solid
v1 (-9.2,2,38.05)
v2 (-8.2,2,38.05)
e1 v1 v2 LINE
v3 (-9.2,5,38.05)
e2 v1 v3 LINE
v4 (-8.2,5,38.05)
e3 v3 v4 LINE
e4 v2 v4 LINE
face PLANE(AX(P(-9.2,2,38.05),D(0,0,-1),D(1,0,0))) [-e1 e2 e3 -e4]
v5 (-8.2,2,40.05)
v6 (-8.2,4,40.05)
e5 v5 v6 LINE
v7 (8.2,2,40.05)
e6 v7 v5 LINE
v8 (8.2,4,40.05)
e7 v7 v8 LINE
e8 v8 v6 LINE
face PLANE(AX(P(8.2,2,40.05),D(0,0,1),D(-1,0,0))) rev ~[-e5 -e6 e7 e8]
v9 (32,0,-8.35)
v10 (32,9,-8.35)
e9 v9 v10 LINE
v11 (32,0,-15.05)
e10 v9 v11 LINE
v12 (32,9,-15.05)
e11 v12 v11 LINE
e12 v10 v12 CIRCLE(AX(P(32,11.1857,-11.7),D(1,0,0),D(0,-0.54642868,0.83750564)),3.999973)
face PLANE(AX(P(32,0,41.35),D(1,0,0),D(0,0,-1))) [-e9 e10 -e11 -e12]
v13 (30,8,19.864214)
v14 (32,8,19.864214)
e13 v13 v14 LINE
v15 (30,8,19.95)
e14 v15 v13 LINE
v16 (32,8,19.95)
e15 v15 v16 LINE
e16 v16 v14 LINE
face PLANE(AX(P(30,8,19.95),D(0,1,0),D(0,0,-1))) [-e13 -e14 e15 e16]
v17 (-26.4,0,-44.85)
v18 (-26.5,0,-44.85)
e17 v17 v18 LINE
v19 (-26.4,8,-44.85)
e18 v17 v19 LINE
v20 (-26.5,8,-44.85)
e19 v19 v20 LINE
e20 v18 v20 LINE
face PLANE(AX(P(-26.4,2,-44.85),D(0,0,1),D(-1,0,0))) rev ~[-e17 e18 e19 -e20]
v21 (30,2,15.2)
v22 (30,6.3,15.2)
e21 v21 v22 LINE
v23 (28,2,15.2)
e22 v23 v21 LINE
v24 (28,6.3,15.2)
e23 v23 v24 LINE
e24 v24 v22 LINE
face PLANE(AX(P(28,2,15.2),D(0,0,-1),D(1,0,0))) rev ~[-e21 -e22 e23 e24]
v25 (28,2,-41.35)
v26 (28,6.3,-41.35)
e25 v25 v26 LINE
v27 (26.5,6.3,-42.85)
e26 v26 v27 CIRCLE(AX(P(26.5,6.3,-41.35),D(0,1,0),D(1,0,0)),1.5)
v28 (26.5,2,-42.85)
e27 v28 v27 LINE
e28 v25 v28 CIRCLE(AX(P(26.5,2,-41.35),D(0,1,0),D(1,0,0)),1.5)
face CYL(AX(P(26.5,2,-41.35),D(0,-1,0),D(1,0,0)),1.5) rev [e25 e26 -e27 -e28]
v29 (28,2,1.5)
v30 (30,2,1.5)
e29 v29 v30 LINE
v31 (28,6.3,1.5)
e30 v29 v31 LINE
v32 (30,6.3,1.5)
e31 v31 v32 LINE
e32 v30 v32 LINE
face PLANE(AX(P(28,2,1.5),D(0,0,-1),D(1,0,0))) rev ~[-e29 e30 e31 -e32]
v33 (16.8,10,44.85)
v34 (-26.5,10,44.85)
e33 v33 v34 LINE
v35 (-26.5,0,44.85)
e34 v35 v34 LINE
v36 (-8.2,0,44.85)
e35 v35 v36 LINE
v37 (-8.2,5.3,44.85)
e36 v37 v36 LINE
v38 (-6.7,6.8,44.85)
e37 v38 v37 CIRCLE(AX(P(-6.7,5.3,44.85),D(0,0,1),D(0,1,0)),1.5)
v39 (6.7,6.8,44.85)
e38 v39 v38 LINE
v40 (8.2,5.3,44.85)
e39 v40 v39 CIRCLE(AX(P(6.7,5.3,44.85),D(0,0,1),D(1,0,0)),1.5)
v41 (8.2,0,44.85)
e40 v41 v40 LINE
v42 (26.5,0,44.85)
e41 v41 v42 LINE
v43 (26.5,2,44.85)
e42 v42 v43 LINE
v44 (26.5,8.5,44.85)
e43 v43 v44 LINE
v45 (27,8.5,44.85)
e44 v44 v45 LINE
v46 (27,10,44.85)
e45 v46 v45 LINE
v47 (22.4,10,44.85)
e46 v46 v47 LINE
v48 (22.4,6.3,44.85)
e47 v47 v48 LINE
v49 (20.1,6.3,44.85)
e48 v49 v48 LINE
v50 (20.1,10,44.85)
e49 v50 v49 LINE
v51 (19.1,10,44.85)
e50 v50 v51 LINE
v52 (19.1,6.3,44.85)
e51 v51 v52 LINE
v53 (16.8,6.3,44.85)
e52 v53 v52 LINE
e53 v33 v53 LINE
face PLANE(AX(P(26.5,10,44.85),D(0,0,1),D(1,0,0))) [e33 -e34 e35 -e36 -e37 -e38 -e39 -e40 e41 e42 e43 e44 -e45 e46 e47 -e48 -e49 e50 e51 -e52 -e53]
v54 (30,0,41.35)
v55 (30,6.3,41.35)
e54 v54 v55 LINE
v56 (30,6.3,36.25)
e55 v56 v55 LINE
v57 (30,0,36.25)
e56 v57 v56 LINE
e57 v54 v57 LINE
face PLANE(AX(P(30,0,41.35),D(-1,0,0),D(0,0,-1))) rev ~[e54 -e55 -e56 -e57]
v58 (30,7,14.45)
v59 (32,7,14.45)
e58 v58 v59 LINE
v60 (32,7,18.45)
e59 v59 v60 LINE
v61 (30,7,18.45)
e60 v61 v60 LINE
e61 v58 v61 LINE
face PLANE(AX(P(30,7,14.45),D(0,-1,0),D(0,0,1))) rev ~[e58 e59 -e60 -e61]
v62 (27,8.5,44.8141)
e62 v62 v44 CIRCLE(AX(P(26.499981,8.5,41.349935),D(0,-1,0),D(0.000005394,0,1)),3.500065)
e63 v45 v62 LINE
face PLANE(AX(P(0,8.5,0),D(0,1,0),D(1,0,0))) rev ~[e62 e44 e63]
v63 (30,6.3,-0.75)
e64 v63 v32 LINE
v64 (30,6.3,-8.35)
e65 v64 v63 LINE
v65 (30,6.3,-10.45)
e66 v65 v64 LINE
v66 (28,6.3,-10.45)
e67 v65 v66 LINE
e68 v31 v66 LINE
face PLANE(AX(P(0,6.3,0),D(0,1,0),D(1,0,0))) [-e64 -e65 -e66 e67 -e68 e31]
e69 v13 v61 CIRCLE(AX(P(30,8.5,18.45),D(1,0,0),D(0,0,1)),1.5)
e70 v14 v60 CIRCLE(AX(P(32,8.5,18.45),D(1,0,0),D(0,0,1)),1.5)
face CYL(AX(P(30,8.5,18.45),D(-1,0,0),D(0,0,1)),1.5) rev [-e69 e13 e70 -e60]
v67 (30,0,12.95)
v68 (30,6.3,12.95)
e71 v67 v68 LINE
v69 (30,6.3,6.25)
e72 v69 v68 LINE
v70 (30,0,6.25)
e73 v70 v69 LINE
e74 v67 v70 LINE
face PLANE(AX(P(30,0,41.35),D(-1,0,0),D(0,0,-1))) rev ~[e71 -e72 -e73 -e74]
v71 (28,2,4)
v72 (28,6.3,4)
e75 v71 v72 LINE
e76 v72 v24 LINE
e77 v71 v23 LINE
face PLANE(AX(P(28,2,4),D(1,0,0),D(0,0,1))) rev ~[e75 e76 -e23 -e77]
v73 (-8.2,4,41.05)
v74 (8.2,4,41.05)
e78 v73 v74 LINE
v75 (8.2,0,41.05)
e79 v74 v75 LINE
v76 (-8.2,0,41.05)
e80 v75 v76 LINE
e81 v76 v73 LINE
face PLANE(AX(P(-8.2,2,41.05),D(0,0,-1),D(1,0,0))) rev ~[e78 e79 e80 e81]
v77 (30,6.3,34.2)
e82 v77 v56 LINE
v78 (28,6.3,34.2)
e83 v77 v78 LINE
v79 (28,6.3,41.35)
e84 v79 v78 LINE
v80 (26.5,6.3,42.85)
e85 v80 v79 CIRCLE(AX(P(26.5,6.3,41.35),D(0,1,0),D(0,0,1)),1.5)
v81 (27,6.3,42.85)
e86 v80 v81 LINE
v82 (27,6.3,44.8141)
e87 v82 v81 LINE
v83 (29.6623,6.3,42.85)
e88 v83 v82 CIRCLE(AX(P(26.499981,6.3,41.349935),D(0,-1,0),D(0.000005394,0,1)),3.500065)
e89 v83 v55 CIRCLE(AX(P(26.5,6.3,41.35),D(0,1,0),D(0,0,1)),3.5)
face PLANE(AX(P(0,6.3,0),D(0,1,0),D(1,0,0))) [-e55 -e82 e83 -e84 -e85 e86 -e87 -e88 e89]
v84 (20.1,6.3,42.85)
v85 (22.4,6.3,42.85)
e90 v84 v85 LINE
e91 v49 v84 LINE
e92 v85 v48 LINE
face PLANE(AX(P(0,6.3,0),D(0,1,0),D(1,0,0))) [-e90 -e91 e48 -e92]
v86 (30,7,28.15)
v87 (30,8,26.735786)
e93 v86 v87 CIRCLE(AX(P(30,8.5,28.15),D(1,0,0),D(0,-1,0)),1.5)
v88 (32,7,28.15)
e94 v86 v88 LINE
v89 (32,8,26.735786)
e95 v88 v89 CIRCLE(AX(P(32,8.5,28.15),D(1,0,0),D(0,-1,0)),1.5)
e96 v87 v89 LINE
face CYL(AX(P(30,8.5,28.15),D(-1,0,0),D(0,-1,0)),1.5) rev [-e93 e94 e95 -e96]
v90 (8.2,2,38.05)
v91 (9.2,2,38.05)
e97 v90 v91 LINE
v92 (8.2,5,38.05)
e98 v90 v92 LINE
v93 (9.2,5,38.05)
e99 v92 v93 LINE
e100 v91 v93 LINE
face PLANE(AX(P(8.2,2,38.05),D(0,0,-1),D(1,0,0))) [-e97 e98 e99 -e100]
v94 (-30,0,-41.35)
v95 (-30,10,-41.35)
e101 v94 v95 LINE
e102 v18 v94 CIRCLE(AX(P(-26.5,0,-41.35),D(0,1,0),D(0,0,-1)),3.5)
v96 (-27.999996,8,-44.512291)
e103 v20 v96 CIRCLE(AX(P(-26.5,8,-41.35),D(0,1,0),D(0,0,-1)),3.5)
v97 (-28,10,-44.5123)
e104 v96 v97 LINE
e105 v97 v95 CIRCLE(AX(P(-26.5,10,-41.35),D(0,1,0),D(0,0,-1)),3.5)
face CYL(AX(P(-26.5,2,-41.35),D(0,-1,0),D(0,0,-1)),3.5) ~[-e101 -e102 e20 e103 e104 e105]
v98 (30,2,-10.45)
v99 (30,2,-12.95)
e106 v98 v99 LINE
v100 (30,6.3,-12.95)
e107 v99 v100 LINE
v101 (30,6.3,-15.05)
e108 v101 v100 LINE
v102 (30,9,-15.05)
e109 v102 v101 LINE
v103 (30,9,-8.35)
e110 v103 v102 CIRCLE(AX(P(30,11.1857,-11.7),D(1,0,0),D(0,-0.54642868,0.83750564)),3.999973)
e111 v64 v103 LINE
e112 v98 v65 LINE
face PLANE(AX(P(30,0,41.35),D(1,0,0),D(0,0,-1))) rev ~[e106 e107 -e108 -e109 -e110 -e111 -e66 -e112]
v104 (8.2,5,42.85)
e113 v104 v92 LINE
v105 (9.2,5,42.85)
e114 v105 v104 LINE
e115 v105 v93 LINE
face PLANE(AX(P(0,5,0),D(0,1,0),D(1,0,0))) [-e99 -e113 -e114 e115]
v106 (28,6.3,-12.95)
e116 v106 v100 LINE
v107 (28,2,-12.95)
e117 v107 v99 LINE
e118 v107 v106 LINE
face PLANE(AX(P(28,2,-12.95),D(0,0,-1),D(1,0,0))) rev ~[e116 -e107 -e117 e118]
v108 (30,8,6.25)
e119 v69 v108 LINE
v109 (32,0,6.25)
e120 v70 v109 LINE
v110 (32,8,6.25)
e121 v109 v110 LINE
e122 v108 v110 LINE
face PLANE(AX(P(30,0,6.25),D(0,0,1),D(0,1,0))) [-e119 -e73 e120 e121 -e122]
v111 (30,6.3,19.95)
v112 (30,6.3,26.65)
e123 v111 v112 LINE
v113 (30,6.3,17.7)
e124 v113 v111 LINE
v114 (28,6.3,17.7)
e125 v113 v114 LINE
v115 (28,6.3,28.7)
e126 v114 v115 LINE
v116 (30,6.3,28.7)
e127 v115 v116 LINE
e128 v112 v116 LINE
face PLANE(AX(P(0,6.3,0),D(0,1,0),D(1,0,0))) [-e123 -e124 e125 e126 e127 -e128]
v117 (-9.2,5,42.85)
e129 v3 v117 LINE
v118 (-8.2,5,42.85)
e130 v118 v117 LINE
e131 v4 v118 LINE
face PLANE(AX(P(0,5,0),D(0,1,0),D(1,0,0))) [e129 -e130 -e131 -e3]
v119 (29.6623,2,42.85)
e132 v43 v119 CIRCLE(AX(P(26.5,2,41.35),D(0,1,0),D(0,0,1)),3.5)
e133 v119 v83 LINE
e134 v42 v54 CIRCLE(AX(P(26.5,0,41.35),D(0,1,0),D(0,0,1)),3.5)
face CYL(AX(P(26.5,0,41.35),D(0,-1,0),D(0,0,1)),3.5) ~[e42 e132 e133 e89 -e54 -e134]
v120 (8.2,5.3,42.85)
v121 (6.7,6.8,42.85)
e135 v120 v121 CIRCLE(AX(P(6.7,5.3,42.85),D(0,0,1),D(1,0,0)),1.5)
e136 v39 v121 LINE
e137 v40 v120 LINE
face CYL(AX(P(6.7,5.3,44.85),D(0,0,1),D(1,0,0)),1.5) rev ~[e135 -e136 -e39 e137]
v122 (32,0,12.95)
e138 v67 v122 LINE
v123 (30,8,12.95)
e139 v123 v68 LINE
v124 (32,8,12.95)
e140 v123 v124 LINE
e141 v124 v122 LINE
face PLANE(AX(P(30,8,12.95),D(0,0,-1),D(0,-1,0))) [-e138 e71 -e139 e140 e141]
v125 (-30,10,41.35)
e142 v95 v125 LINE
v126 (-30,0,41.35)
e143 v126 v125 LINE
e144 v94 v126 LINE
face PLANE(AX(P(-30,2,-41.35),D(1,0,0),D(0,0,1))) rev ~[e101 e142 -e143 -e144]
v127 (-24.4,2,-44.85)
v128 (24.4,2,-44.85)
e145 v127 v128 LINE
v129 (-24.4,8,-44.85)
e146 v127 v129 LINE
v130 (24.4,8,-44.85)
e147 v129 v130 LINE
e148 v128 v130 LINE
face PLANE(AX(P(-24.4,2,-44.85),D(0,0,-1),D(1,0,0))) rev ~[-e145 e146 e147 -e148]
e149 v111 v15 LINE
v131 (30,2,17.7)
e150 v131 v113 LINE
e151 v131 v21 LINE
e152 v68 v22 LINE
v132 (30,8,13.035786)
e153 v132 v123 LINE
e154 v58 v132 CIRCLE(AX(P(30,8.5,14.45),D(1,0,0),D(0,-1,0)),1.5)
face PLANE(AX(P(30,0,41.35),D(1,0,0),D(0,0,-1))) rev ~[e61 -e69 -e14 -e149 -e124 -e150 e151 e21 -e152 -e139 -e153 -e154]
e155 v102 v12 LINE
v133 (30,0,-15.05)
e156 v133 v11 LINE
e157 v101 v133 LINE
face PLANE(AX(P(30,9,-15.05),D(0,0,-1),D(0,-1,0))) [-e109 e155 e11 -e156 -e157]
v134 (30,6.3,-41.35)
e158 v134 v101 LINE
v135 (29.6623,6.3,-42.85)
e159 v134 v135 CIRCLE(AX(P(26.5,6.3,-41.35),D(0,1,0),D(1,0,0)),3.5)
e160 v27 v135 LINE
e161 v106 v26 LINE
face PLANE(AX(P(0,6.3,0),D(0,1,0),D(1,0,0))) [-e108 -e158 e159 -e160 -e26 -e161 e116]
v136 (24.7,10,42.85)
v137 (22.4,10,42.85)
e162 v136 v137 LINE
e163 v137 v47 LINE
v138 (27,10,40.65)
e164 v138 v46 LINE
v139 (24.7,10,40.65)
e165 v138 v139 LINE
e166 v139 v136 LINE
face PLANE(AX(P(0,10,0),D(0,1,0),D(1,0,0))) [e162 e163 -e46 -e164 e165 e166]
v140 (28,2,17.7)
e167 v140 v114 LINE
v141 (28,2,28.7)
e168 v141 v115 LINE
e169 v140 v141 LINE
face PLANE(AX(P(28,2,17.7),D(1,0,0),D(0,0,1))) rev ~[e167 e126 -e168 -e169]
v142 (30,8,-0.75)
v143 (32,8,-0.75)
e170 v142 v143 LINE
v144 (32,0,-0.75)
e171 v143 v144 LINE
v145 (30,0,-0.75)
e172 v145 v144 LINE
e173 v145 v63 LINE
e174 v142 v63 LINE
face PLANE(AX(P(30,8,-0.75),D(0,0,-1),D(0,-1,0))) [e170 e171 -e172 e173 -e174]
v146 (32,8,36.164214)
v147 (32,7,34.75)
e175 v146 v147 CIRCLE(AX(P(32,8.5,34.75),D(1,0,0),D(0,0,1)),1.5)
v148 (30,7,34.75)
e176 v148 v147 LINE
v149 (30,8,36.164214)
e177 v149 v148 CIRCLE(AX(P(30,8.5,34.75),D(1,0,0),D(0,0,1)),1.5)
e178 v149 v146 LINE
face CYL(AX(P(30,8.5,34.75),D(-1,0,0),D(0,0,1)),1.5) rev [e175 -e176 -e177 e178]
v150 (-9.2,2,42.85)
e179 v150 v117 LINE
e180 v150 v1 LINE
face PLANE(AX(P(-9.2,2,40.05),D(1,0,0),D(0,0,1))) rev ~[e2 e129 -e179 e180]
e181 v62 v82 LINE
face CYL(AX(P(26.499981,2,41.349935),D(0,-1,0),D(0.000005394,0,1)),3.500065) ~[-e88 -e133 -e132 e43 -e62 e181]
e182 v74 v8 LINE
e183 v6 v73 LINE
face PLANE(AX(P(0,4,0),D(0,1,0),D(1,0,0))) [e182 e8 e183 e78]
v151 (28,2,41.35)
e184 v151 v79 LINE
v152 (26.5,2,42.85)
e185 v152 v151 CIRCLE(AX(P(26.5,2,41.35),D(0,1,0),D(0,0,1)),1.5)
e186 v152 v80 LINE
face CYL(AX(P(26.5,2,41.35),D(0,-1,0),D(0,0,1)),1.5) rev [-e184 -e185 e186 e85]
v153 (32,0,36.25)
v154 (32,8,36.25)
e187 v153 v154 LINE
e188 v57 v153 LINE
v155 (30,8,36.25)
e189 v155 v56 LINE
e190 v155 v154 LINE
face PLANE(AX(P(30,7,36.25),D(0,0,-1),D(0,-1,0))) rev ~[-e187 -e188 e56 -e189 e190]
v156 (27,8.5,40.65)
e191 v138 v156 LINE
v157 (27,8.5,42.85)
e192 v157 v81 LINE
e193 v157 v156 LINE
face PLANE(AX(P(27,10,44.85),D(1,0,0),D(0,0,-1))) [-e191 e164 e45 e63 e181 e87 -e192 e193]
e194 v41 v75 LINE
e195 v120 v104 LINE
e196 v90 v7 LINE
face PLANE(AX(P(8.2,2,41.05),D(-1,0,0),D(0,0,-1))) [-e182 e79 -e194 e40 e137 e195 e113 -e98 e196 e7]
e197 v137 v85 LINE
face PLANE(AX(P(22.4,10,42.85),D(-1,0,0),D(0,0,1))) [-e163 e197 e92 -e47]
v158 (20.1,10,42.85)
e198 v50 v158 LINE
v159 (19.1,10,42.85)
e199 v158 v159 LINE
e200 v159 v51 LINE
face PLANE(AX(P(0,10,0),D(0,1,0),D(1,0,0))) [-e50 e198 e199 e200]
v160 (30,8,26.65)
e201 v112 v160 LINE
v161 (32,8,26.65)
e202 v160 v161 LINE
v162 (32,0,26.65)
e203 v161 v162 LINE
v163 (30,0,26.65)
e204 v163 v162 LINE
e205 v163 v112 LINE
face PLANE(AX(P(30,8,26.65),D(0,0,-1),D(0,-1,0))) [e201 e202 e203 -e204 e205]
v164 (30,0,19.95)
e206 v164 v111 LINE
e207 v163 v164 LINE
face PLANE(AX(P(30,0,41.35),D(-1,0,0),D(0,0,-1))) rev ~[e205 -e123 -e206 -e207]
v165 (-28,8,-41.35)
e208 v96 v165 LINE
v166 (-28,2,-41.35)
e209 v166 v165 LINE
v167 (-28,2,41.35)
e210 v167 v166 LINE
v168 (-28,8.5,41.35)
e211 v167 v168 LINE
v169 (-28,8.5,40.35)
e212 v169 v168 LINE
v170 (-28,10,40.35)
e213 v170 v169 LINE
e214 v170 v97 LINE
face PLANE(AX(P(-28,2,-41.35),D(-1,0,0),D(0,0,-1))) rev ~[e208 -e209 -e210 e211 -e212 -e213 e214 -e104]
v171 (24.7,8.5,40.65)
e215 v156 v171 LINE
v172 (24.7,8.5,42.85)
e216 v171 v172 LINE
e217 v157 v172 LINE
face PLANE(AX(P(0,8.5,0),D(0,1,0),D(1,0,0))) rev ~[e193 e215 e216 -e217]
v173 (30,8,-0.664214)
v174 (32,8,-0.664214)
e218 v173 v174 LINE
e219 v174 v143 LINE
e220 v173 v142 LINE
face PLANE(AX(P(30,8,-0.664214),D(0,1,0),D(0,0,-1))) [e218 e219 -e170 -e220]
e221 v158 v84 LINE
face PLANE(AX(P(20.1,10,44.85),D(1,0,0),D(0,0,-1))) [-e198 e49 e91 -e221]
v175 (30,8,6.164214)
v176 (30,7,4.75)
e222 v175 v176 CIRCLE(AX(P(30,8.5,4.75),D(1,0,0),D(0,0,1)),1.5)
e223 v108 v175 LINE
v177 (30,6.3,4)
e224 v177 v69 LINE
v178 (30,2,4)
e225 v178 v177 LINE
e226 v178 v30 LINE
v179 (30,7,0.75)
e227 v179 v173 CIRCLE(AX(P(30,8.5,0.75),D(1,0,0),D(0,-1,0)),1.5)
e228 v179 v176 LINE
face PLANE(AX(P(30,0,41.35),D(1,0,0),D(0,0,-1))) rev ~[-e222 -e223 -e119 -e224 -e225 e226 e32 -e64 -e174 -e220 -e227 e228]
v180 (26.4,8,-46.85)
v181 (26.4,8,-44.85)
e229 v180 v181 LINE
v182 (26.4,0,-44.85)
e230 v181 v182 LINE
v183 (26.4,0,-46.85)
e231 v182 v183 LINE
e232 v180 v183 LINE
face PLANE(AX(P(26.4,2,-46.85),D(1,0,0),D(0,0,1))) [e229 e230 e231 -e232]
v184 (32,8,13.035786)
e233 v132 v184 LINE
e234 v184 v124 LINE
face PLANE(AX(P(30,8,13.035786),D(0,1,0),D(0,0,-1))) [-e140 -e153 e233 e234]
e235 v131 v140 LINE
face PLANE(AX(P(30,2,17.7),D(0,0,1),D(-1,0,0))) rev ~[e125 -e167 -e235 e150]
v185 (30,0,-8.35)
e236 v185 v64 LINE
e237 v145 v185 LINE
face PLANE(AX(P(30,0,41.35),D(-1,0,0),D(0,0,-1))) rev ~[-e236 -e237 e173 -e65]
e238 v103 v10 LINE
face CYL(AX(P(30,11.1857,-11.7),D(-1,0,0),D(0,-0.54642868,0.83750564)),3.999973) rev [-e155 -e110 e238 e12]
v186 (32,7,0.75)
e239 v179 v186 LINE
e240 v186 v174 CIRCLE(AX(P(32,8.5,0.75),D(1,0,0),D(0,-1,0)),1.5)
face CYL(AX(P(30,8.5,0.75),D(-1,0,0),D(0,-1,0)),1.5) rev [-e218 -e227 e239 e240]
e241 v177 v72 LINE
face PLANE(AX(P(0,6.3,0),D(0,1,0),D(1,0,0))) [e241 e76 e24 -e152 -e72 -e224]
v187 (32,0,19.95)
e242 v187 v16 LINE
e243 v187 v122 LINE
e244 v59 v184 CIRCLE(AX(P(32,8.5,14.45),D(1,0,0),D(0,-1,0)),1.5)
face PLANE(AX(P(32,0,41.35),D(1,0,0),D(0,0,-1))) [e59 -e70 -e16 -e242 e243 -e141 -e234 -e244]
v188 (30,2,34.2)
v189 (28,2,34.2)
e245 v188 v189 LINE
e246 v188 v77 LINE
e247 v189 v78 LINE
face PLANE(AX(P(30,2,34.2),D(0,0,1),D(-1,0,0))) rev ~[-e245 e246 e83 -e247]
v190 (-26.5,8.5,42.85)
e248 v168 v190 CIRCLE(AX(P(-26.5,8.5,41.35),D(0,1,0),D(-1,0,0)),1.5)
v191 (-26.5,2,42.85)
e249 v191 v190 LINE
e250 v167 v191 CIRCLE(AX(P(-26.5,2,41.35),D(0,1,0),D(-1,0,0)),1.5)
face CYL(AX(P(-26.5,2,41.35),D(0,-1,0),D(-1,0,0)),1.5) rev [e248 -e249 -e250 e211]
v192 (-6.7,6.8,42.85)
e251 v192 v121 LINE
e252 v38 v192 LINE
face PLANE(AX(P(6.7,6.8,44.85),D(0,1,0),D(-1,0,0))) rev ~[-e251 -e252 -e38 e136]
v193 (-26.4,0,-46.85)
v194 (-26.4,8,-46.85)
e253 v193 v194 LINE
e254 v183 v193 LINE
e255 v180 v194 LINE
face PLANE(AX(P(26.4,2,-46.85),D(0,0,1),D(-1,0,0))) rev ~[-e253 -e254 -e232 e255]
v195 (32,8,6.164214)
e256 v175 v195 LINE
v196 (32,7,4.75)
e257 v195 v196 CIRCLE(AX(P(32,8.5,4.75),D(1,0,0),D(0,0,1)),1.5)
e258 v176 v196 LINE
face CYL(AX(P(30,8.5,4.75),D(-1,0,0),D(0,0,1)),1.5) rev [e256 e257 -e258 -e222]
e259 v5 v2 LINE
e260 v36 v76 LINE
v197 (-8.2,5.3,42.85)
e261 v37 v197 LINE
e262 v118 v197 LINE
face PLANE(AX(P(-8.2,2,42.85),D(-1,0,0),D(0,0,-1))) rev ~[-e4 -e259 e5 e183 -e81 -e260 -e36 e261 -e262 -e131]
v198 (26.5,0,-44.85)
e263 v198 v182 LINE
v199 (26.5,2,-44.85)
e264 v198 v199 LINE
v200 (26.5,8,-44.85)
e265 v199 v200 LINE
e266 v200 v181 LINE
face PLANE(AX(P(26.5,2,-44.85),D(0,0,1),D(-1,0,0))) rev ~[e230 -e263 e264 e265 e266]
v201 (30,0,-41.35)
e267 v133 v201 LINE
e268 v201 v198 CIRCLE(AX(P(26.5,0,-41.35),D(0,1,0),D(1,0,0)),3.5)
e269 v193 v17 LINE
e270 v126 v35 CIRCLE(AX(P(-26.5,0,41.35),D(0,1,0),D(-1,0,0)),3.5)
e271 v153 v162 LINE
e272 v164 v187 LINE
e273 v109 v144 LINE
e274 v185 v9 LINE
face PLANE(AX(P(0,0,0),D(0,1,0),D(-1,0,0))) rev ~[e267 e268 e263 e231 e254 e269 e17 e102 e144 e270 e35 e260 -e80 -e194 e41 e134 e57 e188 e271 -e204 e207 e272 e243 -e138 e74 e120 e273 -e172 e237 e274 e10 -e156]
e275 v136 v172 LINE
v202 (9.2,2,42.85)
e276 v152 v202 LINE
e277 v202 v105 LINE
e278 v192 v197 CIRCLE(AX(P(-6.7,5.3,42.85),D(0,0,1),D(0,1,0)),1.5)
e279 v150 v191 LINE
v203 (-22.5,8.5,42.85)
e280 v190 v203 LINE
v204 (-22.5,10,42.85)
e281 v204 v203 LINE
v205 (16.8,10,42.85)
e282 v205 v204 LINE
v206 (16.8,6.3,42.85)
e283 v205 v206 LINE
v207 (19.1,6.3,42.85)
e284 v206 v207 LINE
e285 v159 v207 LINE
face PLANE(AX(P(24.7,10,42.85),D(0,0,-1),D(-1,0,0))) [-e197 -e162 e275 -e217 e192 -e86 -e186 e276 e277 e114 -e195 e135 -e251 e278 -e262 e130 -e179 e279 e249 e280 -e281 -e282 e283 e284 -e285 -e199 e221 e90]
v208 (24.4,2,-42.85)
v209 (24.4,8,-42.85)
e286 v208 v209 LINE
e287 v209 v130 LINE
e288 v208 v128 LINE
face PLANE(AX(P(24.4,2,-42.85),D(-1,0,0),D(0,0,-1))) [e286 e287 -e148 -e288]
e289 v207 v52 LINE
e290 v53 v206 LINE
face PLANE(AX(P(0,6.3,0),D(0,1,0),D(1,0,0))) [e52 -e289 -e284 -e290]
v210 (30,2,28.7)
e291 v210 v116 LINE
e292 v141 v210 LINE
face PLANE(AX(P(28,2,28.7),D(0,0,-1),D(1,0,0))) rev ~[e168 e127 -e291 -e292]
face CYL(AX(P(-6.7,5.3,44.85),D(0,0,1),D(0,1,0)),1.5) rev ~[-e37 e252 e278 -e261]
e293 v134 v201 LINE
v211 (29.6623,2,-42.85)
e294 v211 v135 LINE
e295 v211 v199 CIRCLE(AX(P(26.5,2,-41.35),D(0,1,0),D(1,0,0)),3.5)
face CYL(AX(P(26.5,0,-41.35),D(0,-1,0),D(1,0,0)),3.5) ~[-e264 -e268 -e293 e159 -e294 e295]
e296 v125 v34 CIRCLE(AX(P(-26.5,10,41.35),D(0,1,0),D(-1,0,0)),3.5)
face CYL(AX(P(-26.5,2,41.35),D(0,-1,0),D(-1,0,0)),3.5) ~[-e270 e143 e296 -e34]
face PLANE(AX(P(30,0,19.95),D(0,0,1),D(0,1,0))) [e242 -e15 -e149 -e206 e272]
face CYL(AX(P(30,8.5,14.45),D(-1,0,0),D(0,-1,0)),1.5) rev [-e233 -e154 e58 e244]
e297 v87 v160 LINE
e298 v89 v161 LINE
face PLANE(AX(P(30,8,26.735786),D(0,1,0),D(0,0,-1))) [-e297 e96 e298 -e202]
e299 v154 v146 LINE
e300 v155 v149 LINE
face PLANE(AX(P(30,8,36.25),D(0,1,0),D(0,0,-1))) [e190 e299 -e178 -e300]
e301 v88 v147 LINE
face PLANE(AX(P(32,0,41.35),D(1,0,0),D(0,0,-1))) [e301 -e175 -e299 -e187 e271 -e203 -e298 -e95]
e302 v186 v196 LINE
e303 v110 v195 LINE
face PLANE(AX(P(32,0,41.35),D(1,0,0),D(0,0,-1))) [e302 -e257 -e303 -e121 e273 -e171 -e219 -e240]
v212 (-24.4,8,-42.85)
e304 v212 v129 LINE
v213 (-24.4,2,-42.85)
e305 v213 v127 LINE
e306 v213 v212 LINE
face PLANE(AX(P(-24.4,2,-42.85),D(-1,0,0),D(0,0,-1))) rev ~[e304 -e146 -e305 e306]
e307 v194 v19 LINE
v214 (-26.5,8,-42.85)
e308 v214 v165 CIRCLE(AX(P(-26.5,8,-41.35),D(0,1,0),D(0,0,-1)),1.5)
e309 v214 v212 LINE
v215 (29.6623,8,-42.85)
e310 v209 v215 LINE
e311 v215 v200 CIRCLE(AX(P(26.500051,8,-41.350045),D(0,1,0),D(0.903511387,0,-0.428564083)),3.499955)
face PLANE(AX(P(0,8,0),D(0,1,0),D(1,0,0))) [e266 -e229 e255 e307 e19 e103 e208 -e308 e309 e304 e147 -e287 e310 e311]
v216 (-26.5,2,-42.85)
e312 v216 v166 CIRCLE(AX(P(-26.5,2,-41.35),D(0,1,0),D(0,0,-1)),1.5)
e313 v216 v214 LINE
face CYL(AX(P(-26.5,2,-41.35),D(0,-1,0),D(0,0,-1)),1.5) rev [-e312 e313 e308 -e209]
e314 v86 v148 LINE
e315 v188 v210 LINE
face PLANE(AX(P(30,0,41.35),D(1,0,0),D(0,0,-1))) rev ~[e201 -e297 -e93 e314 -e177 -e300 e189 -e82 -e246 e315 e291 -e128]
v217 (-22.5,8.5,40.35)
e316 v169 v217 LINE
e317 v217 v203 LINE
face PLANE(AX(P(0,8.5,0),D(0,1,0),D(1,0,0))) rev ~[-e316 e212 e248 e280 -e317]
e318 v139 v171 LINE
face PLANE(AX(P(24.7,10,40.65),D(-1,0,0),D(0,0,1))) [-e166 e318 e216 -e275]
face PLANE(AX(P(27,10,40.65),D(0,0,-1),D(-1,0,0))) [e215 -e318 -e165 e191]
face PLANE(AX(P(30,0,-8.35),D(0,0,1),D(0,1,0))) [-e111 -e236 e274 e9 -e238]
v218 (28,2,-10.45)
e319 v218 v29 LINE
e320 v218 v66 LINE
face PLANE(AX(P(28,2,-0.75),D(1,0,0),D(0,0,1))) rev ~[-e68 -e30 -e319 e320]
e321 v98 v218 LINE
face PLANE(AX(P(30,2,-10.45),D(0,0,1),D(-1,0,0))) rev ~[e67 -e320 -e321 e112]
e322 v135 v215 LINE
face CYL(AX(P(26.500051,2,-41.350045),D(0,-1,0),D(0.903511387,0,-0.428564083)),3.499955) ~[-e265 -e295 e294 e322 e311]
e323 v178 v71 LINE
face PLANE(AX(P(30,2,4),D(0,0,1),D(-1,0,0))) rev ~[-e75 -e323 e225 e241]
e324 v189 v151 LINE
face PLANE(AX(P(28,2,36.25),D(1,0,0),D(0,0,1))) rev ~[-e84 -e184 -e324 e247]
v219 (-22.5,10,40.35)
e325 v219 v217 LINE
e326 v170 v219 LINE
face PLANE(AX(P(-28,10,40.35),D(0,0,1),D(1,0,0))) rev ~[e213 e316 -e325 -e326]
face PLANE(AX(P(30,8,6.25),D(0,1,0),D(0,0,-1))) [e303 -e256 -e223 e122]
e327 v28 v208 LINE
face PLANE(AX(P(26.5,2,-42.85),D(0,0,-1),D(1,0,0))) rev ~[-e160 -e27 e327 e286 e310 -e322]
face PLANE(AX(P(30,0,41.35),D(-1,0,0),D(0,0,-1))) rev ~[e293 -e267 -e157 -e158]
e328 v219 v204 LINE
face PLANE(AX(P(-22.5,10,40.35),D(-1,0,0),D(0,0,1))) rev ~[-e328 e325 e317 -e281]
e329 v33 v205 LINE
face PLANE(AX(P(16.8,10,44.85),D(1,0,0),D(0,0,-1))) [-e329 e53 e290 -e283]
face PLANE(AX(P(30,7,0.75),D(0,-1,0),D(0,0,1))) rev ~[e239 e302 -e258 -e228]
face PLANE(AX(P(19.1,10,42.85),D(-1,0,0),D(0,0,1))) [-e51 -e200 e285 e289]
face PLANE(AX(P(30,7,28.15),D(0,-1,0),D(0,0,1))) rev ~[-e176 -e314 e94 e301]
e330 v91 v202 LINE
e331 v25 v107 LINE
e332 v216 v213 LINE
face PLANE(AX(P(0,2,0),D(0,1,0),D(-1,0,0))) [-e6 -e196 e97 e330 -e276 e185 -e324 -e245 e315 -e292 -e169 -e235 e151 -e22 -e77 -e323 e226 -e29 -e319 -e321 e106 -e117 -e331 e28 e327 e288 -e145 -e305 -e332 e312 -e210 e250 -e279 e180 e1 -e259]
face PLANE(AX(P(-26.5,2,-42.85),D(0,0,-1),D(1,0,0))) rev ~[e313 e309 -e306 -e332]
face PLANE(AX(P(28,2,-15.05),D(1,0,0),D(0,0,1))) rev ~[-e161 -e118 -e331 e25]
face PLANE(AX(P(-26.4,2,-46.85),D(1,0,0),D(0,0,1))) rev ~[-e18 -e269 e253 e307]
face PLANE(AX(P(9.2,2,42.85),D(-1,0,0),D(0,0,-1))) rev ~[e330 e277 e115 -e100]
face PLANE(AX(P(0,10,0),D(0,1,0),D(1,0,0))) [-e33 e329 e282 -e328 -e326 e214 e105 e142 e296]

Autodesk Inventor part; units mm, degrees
ref_plane "YZ Plane" through (0, 0, 0) normal (1, 0, 0) x (0, 1, 0)
ref_plane "XZ Plane" through (0, 0, 0) normal (0, 1, 0) x (-1, 0, 0)
ref_plane "XY Plane" through (0, 0, 0) normal (0, 0, 1) x (1, 0, 0)
sketch "Sketch1" plane through (0, 0, 0) normal (0, 1, 0) x (-1, 0, 0)
  line L0 (-26.5, -44.85) -> (26.5, -44.85)
  line L1 (30, -41.35) -> (30, 41.35)
  line L2 (26.5, 44.85) -> (-26.5, 44.85)
  line L3 (-30, 41.35) -> (-30, -41.35)
  line L4 (-30, -44.85) -> (30, 44.85) construction
  line L5 (30, -44.85) -> (-30, 44.85) construction
  arc A0 (30, 41.35) -> (26.5, 44.85) centre (26.5, 41.35) ccw
  arc A1 (-26.5, 44.85) -> (-30, 41.35) centre (-26.5, 41.35) ccw
  arc A2 (26.5, -44.85) -> (30, -41.35) centre (26.5, -41.35) ccw
  arc A3 (-30, -41.35) -> (-26.5, -44.85) centre (-26.5, -41.35) ccw
  line L6 (-26.4, -46.85) -> (26.4, -46.85)
  line L7 (26.4, -46.85) -> (26.4, 0)
  line L8 (26.4, 0) -> (-26.4, 0)
  line L9 (-26.4, 0) -> (-26.4, -46.85)
  line L10 (-26.4, -46.85) -> (26.4, 0) construction
  line L11 (26.4, -46.85) -> (-26.4, 0) construction
  point P0 (0, 0)
  point P1 (0, -23.425)
  point P2 (0, 0)
  point P3 (0, 0)
  point P4 (0, -23.425)
  point P5 (0, 0)
  point P6 (-26.4, -44.85)
  point P7 (26.4, -44.85)
  dimension "d0" = 89.7
  dimension "d1" = 60
  dimension "d2" = 3.5
  dimension "d3" = 2
  dimension "d4" = 52.8
extrude "Extrusion1" add sketch "Sketch1" along normal blind 2
sketch "Sketch2" plane through (30, 0, 41.35) normal (1, 0, 0) x (0, 0, -1)
  line L0 (0, 0) -> (82.7, 0) projected
  line L1 (14.7, 0) -> (5.1, 0)
  line L2 (5.1, 8.5) -> (5.1, 8)
  line L3 (5.1, 8) -> (14.7, 8)
  line L4 (14.7, 8) -> (14.7, 8.5)
  line L5 (28.4, 0) -> (21.4, 0)
  line L6 (21.4, 0) -> (21.4, 8)
  line L7 (21.4, 8) -> (28.4, 8)
  line L8 (28.4, 8) -> (28.4, 0)
  line L9 (42.1, 0) -> (35.1, 0)
  line L10 (35.1, 0) -> (35.1, 8)
  line L11 (35.1, 8) -> (42.1, 8)
  line L12 (42.1, 8) -> (42.1, 0)
  line L13 (56.4, 0) -> (49.7, 0)
  line L14 (49.7, 0) -> (49.7, 9)
  line L15 (49.7, 9) -> (56.4, 9)
  line L16 (56.4, 9) -> (56.4, 0)
  line L17 (-3.5, 0) -> (-3.5, 2) projected
  line L18 (5.1, 8) -> (14.7, 8)
  line L19 (14.7, 8) -> (14.7, 7)
  line L20 (13.2, 7) -> (6.6, 7)
  line L21 (5.1, 7) -> (5.1, 8)
  arc A0 (5.1, 8.5) -> (6.6, 7) centre (6.6, 8.5) ccw
  arc A1 (13.2, 7) -> (14.7, 8.5) centre (13.2, 8.5) ccw
  line L22 (5.1, 7) -> (5.1, 0)
  line L23 (14.7, 7) -> (14.7, 0)
  line L24 (21.4, 8) -> (28.4, 8)
  line L25 (28.4, 8) -> (28.4, 8.5)
  line L26 (26.9, 7) -> (22.9, 7)
  line L27 (21.4, 8.5) -> (21.4, 8)
  arc A2 (21.4, 8.5) -> (22.9, 7) centre (22.9, 8.5) ccw
  arc A3 (26.9, 7) -> (28.4, 8.5) centre (26.9, 8.5) ccw
  line L28 (35.1, 8) -> (42.1, 8)
  line L29 (42.1, 8) -> (42.1, 8.5)
  line L30 (40.6, 7) -> (36.6, 7)
  line L31 (35.1, 8.5) -> (35.1, 8)
  arc A4 (35.1, 8.5) -> (36.6, 7) centre (36.6, 8.5) ccw
  arc A5 (40.6, 7) -> (42.1, 8.5) centre (40.6, 8.5) ccw
  arc A6 (49.7, 9) -> (56.4, 9) centre (53.05, 11.1857) ccw
  point P0 (41.35, 0)
  point P1 (35.1858, 8)
  point P2 (35.1, 0)
  point P3 (42.0142, 8)
  point P4 (21.4858, 8)
  point P5 (28.3142, 8)
  point P6 (14.7, 8)
  point P7 (14.6142, 8)
  point P8 (5.1858, 8)
  point P9 (5.1, 0)
  dimension "d7" = 8
  dimension "d8" = 9.6
  dimension "d9" = 8.6
  dimension "d10" = 1
  dimension "d11" = 1.5
  dimension "d12" = 6.7
  dimension "d13" = 7
  dimension "d14" = 1.5
  dimension "d15" = 1
  dimension "d16" = 6.7
  dimension "d17" = 1.5
  dimension "d18" = 1
  dimension "d19" = 7.6
  dimension "d20" = 6.7
  dimension "d21" = 9
  dimension "d22" = 8
extrude "Extrusion2" add sketch "Sketch2" along normal blind 2 contours L22 L21 L3 A0 L20 A1 L19 L23 L0 | L14 A6 L16 L0 | L10 L11 A4 L30 A5 L12 L0 | L6 L7 A2 L26 A3 L8 L0
sketch "Sketch3" plane through (0, 2, 0) normal (0, 1, 0) x (1, 0, 0)
  line L0 (30, 15.05) -> (30, 41.35) projected
  arc A0 (30, 41.35) -> (26.5, 44.85) centre (26.5, 41.35) ccw projected
  line L1 (30, 15.05) -> (30, 8.35) projected
  line L2 (30, 0.75) -> (30, 8.35) projected
  line L3 (30, 0.6642) -> (30, -0.75) projected
  line L4 (30, -0.75) -> (30, -4.75) projected
  line L5 (30, -4.75) -> (30, -6.1642) projected
  line L6 (30, -12.95) -> (30, -6.25) projected
  line L7 (30, -13.0358) -> (30, -14.45) projected
  line L8 (30, -14.45) -> (30, -18.45) projected
  line L9 (30, -18.45) -> (30, -19.8642) projected
  line L10 (30, -26.65) -> (30, -19.95) projected
  line L11 (30, -26.7358) -> (30, -28.15) projected
  line L12 (30, -28.15) -> (30, -34.75) projected
  line L13 (30, -34.75) -> (30, -36.1642) projected
  line L14 (30, -41.35) -> (30, -36.25) projected
  arc A1 (26.5, -44.85) -> (30, -41.35) centre (26.5, -41.35) ccw projected
  arc A2 (28, 41.35) -> (26.5, 42.85) centre (26.5, 41.35) ccw
  line L15 (28, 41.35) -> (28, 15.05)
  line L16 (28, 8.35) -> (28, 0.75)
  line L17 (28, -36.25) -> (28, -41.35)
  arc A3 (26.5, -42.85) -> (28, -41.35) centre (26.5, -41.35) ccw
  line L18 (0, -42.85) -> (29.6623, -42.85)
  line L19 (-26.5, -44.85) -> (26.5, -44.85) projected
  line L20 (30, 10.45) -> (28, 10.45)
  line L21 (28, 12.95) -> (30, 12.95)
  line L22 (30, 10.45) -> (28, 12.95) construction
  line L23 (28, 10.45) -> (30, 12.95) construction
  line L24 (30, -4) -> (28, -4)
  line L25 (28, -1.5) -> (30, -1.5)
  line L26 (30, -4) -> (28, -1.5) construction
  line L27 (28, -4) -> (30, -1.5) construction
  line L28 (30, -17.7) -> (28, -17.7)
  line L29 (28, -15.2) -> (30, -15.2)
  line L30 (30, -17.7) -> (28, -15.2) construction
  line L31 (28, -17.7) -> (30, -15.2) construction
  line L32 (30, -34.2) -> (28, -34.2)
  line L33 (28, -28.7) -> (30, -28.7)
  line L34 (30, -31.45) -> (30, -34.2)
  line L35 (30, -34.2) -> (28, -28.7) construction
  line L36 (28, -34.2) -> (30, -28.7) construction
  line L37 (32, 8.35) -> (32, 15.05) construction
  line L38 (32, 11.7) -> (28, 11.7) construction
  line L39 (32, -6.25) -> (32, 0.75) construction
  line L40 (32, -2.75) -> (28, -2.75) construction
  line L41 (32, -14.45) -> (32, -18.45) construction
  line L42 (32, -16.45) -> (28, -16.45) construction
  line L43 (32, -36.25) -> (32, -26.65) construction
  line L44 (32, -31.45) -> (28, -31.45) construction
  line L45 (28, 15.05) -> (28, 12.95)
  line L46 (28, 10.45) -> (28, 8.35)
  line L47 (28, 0.75) -> (28, -1.5)
  line L48 (28, -4) -> (28, -15.2)
  line L49 (28, -17.7) -> (28, -28.7)
  line L50 (28, -34.2) -> (28, -36.25)
  line L51 (30, 10.45) -> (30, -1.5)
  line L52 (30, -4) -> (30, -15.2)
  line L53 (30, -17.7) -> (30, -28.7)
  line L54 (30, -34.2) -> (30, -41.35)
  line L55 (26.5, 42.85) -> (29.6623, 42.85)
  point P0 (0, 0)
  point P1 (29, 11.7)
  point P2 (29, -2.75)
  point P3 (29, -16.45)
  point P4 (29, -31.45)
  point P5 (29, 11.7)
  point P6 (29, -2.75)
  point P7 (29, -16.45)
  point P8 (29, -31.45)
  dimension "d25" = 2
  dimension "d27" = 2
  dimension "d28" = 2.5
  dimension "d29" = 2.5
  dimension "d30" = 2.5
  dimension "d31" = 5.5
extrude "Extrusion3" add sketch "Sketch3" along normal blind 4.3
sketch "Sketch4" plane through (0, 2, 0) normal (0, 1, 0) x (1, 0, 0)
  line L0 (-26.4, 46.85) -> (-26.4, 44.85) projected
  line L1 (-26.4, 44.85) -> (-26.4, 46.85)
  line L2 (26.4, 46.85) -> (-26.4, 46.85) projected
  line L3 (-26.4, 46.85) -> (26.4, 46.85)
  line L4 (26.4, 46.85) -> (26.4, 44.85)
  arc A0 (-26.5, 44.85) -> (-30, 41.35) centre (-26.5, 41.35) ccw projected
  arc A1 (-26.5, 44.85) -> (-30, 41.35) centre (-26.5, 41.35) ccw
  line L5 (-26.4, 44.85) -> (-26.5, 44.85) projected
  line L6 (-26.5, 44.85) -> (-26.4, 44.85)
  line L7 (26.5, 44.85) -> (26.4, 44.85) projected
  line L8 (26.4, 44.85) -> (26.5, 44.85)
  line L9 (-26.5, 42.85) -> (-24.4, 42.85)
  line L10 (-24.4, 42.85) -> (-24.4, 44.85)
  line L11 (-24.4, 44.85) -> (24.4, 44.85)
  arc A2 (-26.5, 42.85) -> (-28, 41.35) centre (-26.5, 41.35) ccw
  line L12 (-30, 41.35) -> (-30, -41.35) projected
  line L13 (-30, 41.35) -> (-28, 41.35)
  line L14 (26.5, 42.85) -> (24.4, 42.85)
  arc A3 (28, 41.35) -> (26.5, 42.85) centre (26.5, 41.35) ccw projected
  line L15 (24.4, 42.85) -> (24.4, 44.85)
  arc A4 (29.6623, 42.85) -> (26.5, 44.85) centre (26.5, 41.35) ccw projected
  arc A5 (29.6623, 42.85) -> (26.5, 44.85) centre (26.5, 41.35) ccw
  line L16 (26.5, 42.85) -> (29.6623, 42.85)
  point P0 (0, 0)
  dimension "d35" = 2
  dimension "d36" = 2
extrude "Extrusion4" add sketch "Sketch4" along normal blind 6
sketch "Sketch5" plane through (0, 2, 0) normal (0, 1, 0) x (1, 0, 0)
  arc A0 (-26.5, 44.85) -> (-30, 41.35) centre (-26.5, 41.35) ccw projected
  line L0 (-30, 41.35) -> (-30, -41.35) projected
  arc A1 (-30, -41.35) -> (-26.5, -44.85) centre (-26.5, -41.35) ccw projected
  line L1 (-26.5, -44.85) -> (26.5, -44.85) projected
  arc A2 (26.5, -44.85) -> (29.6623, -42.85) centre (26.5, -41.35) ccw projected
  arc A3 (26.5, -42.85) -> (27.8553, -41.9929) centre (26.5, -41.35) ccw
  line L2 (26.5, -42.85) -> (-26.5, -42.85)
  arc A4 (-28, -41.35) -> (-26.5, -42.85) centre (-26.5, -41.35) ccw
  line L3 (-28, -41.35) -> (-28, 41.35)
  arc A5 (-26.5, 42.85) -> (-28, 41.35) centre (-26.5, 41.35) ccw
  line L4 (29.6623, -42.85) -> (26.5, -42.85) projected
  line L5 (26.5, -42.85) -> (29.6623, -42.85)
  line L6 (-28, 41.35) -> (-28, 44.5123)
  point P0 (0, 0)
  dimension "d39" = 2
extrude "Extrusion5" add sketch "Sketch5" along normal blind 8
sketch "Sketch6" plane through (0, 10, 0) normal (0, 1, 0) x (1, 0, 0)
  line L0 (-28, 41.35) -> (-28, -41.35) projected
  line L1 (-28, -40.35) -> (-22.5, -40.35)
  line L2 (-22.5, -40.35) -> (-22.5, -42.85)
  line L3 (-26.5, -42.85) -> (26.5, -42.85) projected
  line L4 (-28, -41.35) -> (-28, 44.5123) projected
  arc A0 (-28, -41.35) -> (-26.5, -42.85) centre (-26.5, -41.35) ccw projected
  line L5 (29.6623, -42.85) -> (-26.5, -42.85) projected
  line L6 (-30, 41.35) -> (-30, -41.35) projected
  line L7 (-26.5, -44.85) -> (26.5, -44.85) projected
  point P0 (0, 0)
  dimension "d53" = 2.3
  dimension "d42" = 7.5
  dimension "d43" = 4.5
extrude "Extrusion6" add sketch "Sketch6" against normal blind 1.5
sketch "Sketch7" plane through (0, 10, 0) normal (0, 1, 0) x (1, 0, 0)
  line L0 (27, -44.85) -> (27, -40.65)
  line L1 (27, -40.65) -> (24.7, -40.65)
  line L2 (24.7, -40.65) -> (24.7, -42.85)
  line L3 (24.7, -42.85) -> (22.8, -42.85)
  line L4 (22.8, -42.85) -> (22.8, -44.85)
  line L5 (22.8, -44.85) -> (27, -44.85)
  line L6 (30, -41.35) -> (30, -36.25) projected
  line L7 (-26.5, -44.85) -> (26.5, -44.85) projected
  point P0 (0, 0)
  dimension "d46" = 2.3
  dimension "d47" = 4.2
  dimension "d48" = 4.2
  dimension "d49" = 2
  dimension "d50" = 3
extrude "Extrusion7" add sketch "Sketch7" against normal blind 1.5
sketch "Sketch8" plane through (0, 10, 0) normal (0, 1, 0) x (1, 0, 0)
  line L0 (27, -42.85) -> (29.6623, -42.85)
  line L1 (29.6623, -42.85) -> (29.6623, -44.85)
  line L2 (29.6623, -44.85) -> (27, -44.85)
  line L3 (27, -44.85) -> (27, -42.85)
  line L4 (-26.5, -44.85) -> (27, -44.85) projected
  line L5 (-26.5, -42.85) -> (26.5, -42.85) projected
  line L6 (16.8, -42.85) -> (19.1, -42.85)
  line L7 (19.1, -42.85) -> (19.1, -44.85)
  line L8 (19.1, -44.85) -> (16.8, -44.85)
  line L9 (16.8, -44.85) -> (16.8, -42.85)
  line L10 (-26.5, -44.85) -> (26.5, -44.85) projected
  line L11 (20.1, -42.85) -> (22.4, -42.85)
  line L12 (22.4, -42.85) -> (22.4, -44.85)
  line L13 (22.4, -44.85) -> (20.1, -44.85)
  line L14 (20.1, -44.85) -> (20.1, -42.85)
  line L15 (24.7, -40.65) -> (24.7, -42.85) projected
  point P0 (0, 0)
  dimension "d53" = 2.3
  dimension "d55" = 2.3
  dimension "d56" = 1
  dimension "d57" = 2.3
extrude "Extrusion8" cut sketch "Sketch8" against normal up to surface (3.7 mm away) contours L4 L14 L5 L12 | L0 L1 L2 L3 | L4 L9 L5 L7
sketch "Sketch11" plane through (-26.5, 0, 44.85) normal (0, 0, 1) x (1, 0, 0)
  line L0 (52.9, 0) -> (0.1, 0) projected
  line L1 (33.2, 6.8) -> (19.8, 6.8)
  line L2 (18.3, 5.3) -> (18.3, 0)
  line L3 (18.3, 0) -> (34.7, 0)
  line L4 (34.7, 0) -> (34.7, 5.3)
  line L5 (34.7, 6.8) -> (18.3, 0) construction
  line L6 (18.3, 6.8) -> (34.7, 0) construction
  arc A0 (19.8, 6.8) -> (18.3, 5.3) centre (19.8, 5.3) ccw
  arc A1 (34.7, 5.3) -> (33.2, 6.8) centre (33.2, 5.3) ccw
  point P0 (26.5, 0)
  point P1 (26.5, 3.4)
  point P2 (26.5, 3.4)
  point P3 (26.5, 0)
  dimension "d71" = 6.8
  dimension "d72" = 16.4
  dimension "d73" = 1.5
extrude "Extrusion12" cut sketch "Sketch11" against normal blind 3.8
sketch "Sketch12" plane through (0, 2, 0) normal (0, 1, 0) x (1, 0, 0)
  line L0 (-8.2, -41.05) -> (8.2, -41.05) projected
  line L1 (-8.2, -42.85) -> (-8.2, -41.05) projected
  line L2 (8.2, -41.05) -> (8.2, -42.85) projected
  line L3 (9.2, -42.85) -> (9.2, -40.05)
  line L4 (9.2, -40.05) -> (-9.2, -40.05)
  line L5 (-9.2, -40.05) -> (-9.2, -42.85)
  line L6 (-8.2, -42.85) -> (-9.2, -42.85)
  line L7 (-9.2, -42.85) -> (-9.2, -38.05)
  line L8 (-9.2, -38.05) -> (-8.2, -38.05)
  line L9 (-8.2, -38.05) -> (-8.2, -42.85)
  line L10 (9.2, -42.85) -> (8.2, -42.85)
  line L11 (8.2, -42.85) -> (8.2, -38.05)
  line L12 (8.2, -38.05) -> (9.2, -38.05)
  line L13 (9.2, -38.05) -> (9.2, -42.85)
  line L14 (16.8, -42.85) -> (-22.5, -42.85) projected
  point P0 (0, 0)
  point P1 (8.2, -40.05)
  point P2 (-8.2, -40.05)
  dimension "d76" = 1
  dimension "d77" = 4.8
extrude "Extrusion13" add sketch "Sketch12" along normal blind 2 contours L9 L4 L11 L0
extrude "Extrusion14" add sketch "Sketch12" along normal blind 3 contours L1 L6 L5 L4 L9 | L11 L4 L3 L10 L2 | L4 L7 L8 L9 | L11 L12 L13 L4
properties part number "raspberry_pi_base"
